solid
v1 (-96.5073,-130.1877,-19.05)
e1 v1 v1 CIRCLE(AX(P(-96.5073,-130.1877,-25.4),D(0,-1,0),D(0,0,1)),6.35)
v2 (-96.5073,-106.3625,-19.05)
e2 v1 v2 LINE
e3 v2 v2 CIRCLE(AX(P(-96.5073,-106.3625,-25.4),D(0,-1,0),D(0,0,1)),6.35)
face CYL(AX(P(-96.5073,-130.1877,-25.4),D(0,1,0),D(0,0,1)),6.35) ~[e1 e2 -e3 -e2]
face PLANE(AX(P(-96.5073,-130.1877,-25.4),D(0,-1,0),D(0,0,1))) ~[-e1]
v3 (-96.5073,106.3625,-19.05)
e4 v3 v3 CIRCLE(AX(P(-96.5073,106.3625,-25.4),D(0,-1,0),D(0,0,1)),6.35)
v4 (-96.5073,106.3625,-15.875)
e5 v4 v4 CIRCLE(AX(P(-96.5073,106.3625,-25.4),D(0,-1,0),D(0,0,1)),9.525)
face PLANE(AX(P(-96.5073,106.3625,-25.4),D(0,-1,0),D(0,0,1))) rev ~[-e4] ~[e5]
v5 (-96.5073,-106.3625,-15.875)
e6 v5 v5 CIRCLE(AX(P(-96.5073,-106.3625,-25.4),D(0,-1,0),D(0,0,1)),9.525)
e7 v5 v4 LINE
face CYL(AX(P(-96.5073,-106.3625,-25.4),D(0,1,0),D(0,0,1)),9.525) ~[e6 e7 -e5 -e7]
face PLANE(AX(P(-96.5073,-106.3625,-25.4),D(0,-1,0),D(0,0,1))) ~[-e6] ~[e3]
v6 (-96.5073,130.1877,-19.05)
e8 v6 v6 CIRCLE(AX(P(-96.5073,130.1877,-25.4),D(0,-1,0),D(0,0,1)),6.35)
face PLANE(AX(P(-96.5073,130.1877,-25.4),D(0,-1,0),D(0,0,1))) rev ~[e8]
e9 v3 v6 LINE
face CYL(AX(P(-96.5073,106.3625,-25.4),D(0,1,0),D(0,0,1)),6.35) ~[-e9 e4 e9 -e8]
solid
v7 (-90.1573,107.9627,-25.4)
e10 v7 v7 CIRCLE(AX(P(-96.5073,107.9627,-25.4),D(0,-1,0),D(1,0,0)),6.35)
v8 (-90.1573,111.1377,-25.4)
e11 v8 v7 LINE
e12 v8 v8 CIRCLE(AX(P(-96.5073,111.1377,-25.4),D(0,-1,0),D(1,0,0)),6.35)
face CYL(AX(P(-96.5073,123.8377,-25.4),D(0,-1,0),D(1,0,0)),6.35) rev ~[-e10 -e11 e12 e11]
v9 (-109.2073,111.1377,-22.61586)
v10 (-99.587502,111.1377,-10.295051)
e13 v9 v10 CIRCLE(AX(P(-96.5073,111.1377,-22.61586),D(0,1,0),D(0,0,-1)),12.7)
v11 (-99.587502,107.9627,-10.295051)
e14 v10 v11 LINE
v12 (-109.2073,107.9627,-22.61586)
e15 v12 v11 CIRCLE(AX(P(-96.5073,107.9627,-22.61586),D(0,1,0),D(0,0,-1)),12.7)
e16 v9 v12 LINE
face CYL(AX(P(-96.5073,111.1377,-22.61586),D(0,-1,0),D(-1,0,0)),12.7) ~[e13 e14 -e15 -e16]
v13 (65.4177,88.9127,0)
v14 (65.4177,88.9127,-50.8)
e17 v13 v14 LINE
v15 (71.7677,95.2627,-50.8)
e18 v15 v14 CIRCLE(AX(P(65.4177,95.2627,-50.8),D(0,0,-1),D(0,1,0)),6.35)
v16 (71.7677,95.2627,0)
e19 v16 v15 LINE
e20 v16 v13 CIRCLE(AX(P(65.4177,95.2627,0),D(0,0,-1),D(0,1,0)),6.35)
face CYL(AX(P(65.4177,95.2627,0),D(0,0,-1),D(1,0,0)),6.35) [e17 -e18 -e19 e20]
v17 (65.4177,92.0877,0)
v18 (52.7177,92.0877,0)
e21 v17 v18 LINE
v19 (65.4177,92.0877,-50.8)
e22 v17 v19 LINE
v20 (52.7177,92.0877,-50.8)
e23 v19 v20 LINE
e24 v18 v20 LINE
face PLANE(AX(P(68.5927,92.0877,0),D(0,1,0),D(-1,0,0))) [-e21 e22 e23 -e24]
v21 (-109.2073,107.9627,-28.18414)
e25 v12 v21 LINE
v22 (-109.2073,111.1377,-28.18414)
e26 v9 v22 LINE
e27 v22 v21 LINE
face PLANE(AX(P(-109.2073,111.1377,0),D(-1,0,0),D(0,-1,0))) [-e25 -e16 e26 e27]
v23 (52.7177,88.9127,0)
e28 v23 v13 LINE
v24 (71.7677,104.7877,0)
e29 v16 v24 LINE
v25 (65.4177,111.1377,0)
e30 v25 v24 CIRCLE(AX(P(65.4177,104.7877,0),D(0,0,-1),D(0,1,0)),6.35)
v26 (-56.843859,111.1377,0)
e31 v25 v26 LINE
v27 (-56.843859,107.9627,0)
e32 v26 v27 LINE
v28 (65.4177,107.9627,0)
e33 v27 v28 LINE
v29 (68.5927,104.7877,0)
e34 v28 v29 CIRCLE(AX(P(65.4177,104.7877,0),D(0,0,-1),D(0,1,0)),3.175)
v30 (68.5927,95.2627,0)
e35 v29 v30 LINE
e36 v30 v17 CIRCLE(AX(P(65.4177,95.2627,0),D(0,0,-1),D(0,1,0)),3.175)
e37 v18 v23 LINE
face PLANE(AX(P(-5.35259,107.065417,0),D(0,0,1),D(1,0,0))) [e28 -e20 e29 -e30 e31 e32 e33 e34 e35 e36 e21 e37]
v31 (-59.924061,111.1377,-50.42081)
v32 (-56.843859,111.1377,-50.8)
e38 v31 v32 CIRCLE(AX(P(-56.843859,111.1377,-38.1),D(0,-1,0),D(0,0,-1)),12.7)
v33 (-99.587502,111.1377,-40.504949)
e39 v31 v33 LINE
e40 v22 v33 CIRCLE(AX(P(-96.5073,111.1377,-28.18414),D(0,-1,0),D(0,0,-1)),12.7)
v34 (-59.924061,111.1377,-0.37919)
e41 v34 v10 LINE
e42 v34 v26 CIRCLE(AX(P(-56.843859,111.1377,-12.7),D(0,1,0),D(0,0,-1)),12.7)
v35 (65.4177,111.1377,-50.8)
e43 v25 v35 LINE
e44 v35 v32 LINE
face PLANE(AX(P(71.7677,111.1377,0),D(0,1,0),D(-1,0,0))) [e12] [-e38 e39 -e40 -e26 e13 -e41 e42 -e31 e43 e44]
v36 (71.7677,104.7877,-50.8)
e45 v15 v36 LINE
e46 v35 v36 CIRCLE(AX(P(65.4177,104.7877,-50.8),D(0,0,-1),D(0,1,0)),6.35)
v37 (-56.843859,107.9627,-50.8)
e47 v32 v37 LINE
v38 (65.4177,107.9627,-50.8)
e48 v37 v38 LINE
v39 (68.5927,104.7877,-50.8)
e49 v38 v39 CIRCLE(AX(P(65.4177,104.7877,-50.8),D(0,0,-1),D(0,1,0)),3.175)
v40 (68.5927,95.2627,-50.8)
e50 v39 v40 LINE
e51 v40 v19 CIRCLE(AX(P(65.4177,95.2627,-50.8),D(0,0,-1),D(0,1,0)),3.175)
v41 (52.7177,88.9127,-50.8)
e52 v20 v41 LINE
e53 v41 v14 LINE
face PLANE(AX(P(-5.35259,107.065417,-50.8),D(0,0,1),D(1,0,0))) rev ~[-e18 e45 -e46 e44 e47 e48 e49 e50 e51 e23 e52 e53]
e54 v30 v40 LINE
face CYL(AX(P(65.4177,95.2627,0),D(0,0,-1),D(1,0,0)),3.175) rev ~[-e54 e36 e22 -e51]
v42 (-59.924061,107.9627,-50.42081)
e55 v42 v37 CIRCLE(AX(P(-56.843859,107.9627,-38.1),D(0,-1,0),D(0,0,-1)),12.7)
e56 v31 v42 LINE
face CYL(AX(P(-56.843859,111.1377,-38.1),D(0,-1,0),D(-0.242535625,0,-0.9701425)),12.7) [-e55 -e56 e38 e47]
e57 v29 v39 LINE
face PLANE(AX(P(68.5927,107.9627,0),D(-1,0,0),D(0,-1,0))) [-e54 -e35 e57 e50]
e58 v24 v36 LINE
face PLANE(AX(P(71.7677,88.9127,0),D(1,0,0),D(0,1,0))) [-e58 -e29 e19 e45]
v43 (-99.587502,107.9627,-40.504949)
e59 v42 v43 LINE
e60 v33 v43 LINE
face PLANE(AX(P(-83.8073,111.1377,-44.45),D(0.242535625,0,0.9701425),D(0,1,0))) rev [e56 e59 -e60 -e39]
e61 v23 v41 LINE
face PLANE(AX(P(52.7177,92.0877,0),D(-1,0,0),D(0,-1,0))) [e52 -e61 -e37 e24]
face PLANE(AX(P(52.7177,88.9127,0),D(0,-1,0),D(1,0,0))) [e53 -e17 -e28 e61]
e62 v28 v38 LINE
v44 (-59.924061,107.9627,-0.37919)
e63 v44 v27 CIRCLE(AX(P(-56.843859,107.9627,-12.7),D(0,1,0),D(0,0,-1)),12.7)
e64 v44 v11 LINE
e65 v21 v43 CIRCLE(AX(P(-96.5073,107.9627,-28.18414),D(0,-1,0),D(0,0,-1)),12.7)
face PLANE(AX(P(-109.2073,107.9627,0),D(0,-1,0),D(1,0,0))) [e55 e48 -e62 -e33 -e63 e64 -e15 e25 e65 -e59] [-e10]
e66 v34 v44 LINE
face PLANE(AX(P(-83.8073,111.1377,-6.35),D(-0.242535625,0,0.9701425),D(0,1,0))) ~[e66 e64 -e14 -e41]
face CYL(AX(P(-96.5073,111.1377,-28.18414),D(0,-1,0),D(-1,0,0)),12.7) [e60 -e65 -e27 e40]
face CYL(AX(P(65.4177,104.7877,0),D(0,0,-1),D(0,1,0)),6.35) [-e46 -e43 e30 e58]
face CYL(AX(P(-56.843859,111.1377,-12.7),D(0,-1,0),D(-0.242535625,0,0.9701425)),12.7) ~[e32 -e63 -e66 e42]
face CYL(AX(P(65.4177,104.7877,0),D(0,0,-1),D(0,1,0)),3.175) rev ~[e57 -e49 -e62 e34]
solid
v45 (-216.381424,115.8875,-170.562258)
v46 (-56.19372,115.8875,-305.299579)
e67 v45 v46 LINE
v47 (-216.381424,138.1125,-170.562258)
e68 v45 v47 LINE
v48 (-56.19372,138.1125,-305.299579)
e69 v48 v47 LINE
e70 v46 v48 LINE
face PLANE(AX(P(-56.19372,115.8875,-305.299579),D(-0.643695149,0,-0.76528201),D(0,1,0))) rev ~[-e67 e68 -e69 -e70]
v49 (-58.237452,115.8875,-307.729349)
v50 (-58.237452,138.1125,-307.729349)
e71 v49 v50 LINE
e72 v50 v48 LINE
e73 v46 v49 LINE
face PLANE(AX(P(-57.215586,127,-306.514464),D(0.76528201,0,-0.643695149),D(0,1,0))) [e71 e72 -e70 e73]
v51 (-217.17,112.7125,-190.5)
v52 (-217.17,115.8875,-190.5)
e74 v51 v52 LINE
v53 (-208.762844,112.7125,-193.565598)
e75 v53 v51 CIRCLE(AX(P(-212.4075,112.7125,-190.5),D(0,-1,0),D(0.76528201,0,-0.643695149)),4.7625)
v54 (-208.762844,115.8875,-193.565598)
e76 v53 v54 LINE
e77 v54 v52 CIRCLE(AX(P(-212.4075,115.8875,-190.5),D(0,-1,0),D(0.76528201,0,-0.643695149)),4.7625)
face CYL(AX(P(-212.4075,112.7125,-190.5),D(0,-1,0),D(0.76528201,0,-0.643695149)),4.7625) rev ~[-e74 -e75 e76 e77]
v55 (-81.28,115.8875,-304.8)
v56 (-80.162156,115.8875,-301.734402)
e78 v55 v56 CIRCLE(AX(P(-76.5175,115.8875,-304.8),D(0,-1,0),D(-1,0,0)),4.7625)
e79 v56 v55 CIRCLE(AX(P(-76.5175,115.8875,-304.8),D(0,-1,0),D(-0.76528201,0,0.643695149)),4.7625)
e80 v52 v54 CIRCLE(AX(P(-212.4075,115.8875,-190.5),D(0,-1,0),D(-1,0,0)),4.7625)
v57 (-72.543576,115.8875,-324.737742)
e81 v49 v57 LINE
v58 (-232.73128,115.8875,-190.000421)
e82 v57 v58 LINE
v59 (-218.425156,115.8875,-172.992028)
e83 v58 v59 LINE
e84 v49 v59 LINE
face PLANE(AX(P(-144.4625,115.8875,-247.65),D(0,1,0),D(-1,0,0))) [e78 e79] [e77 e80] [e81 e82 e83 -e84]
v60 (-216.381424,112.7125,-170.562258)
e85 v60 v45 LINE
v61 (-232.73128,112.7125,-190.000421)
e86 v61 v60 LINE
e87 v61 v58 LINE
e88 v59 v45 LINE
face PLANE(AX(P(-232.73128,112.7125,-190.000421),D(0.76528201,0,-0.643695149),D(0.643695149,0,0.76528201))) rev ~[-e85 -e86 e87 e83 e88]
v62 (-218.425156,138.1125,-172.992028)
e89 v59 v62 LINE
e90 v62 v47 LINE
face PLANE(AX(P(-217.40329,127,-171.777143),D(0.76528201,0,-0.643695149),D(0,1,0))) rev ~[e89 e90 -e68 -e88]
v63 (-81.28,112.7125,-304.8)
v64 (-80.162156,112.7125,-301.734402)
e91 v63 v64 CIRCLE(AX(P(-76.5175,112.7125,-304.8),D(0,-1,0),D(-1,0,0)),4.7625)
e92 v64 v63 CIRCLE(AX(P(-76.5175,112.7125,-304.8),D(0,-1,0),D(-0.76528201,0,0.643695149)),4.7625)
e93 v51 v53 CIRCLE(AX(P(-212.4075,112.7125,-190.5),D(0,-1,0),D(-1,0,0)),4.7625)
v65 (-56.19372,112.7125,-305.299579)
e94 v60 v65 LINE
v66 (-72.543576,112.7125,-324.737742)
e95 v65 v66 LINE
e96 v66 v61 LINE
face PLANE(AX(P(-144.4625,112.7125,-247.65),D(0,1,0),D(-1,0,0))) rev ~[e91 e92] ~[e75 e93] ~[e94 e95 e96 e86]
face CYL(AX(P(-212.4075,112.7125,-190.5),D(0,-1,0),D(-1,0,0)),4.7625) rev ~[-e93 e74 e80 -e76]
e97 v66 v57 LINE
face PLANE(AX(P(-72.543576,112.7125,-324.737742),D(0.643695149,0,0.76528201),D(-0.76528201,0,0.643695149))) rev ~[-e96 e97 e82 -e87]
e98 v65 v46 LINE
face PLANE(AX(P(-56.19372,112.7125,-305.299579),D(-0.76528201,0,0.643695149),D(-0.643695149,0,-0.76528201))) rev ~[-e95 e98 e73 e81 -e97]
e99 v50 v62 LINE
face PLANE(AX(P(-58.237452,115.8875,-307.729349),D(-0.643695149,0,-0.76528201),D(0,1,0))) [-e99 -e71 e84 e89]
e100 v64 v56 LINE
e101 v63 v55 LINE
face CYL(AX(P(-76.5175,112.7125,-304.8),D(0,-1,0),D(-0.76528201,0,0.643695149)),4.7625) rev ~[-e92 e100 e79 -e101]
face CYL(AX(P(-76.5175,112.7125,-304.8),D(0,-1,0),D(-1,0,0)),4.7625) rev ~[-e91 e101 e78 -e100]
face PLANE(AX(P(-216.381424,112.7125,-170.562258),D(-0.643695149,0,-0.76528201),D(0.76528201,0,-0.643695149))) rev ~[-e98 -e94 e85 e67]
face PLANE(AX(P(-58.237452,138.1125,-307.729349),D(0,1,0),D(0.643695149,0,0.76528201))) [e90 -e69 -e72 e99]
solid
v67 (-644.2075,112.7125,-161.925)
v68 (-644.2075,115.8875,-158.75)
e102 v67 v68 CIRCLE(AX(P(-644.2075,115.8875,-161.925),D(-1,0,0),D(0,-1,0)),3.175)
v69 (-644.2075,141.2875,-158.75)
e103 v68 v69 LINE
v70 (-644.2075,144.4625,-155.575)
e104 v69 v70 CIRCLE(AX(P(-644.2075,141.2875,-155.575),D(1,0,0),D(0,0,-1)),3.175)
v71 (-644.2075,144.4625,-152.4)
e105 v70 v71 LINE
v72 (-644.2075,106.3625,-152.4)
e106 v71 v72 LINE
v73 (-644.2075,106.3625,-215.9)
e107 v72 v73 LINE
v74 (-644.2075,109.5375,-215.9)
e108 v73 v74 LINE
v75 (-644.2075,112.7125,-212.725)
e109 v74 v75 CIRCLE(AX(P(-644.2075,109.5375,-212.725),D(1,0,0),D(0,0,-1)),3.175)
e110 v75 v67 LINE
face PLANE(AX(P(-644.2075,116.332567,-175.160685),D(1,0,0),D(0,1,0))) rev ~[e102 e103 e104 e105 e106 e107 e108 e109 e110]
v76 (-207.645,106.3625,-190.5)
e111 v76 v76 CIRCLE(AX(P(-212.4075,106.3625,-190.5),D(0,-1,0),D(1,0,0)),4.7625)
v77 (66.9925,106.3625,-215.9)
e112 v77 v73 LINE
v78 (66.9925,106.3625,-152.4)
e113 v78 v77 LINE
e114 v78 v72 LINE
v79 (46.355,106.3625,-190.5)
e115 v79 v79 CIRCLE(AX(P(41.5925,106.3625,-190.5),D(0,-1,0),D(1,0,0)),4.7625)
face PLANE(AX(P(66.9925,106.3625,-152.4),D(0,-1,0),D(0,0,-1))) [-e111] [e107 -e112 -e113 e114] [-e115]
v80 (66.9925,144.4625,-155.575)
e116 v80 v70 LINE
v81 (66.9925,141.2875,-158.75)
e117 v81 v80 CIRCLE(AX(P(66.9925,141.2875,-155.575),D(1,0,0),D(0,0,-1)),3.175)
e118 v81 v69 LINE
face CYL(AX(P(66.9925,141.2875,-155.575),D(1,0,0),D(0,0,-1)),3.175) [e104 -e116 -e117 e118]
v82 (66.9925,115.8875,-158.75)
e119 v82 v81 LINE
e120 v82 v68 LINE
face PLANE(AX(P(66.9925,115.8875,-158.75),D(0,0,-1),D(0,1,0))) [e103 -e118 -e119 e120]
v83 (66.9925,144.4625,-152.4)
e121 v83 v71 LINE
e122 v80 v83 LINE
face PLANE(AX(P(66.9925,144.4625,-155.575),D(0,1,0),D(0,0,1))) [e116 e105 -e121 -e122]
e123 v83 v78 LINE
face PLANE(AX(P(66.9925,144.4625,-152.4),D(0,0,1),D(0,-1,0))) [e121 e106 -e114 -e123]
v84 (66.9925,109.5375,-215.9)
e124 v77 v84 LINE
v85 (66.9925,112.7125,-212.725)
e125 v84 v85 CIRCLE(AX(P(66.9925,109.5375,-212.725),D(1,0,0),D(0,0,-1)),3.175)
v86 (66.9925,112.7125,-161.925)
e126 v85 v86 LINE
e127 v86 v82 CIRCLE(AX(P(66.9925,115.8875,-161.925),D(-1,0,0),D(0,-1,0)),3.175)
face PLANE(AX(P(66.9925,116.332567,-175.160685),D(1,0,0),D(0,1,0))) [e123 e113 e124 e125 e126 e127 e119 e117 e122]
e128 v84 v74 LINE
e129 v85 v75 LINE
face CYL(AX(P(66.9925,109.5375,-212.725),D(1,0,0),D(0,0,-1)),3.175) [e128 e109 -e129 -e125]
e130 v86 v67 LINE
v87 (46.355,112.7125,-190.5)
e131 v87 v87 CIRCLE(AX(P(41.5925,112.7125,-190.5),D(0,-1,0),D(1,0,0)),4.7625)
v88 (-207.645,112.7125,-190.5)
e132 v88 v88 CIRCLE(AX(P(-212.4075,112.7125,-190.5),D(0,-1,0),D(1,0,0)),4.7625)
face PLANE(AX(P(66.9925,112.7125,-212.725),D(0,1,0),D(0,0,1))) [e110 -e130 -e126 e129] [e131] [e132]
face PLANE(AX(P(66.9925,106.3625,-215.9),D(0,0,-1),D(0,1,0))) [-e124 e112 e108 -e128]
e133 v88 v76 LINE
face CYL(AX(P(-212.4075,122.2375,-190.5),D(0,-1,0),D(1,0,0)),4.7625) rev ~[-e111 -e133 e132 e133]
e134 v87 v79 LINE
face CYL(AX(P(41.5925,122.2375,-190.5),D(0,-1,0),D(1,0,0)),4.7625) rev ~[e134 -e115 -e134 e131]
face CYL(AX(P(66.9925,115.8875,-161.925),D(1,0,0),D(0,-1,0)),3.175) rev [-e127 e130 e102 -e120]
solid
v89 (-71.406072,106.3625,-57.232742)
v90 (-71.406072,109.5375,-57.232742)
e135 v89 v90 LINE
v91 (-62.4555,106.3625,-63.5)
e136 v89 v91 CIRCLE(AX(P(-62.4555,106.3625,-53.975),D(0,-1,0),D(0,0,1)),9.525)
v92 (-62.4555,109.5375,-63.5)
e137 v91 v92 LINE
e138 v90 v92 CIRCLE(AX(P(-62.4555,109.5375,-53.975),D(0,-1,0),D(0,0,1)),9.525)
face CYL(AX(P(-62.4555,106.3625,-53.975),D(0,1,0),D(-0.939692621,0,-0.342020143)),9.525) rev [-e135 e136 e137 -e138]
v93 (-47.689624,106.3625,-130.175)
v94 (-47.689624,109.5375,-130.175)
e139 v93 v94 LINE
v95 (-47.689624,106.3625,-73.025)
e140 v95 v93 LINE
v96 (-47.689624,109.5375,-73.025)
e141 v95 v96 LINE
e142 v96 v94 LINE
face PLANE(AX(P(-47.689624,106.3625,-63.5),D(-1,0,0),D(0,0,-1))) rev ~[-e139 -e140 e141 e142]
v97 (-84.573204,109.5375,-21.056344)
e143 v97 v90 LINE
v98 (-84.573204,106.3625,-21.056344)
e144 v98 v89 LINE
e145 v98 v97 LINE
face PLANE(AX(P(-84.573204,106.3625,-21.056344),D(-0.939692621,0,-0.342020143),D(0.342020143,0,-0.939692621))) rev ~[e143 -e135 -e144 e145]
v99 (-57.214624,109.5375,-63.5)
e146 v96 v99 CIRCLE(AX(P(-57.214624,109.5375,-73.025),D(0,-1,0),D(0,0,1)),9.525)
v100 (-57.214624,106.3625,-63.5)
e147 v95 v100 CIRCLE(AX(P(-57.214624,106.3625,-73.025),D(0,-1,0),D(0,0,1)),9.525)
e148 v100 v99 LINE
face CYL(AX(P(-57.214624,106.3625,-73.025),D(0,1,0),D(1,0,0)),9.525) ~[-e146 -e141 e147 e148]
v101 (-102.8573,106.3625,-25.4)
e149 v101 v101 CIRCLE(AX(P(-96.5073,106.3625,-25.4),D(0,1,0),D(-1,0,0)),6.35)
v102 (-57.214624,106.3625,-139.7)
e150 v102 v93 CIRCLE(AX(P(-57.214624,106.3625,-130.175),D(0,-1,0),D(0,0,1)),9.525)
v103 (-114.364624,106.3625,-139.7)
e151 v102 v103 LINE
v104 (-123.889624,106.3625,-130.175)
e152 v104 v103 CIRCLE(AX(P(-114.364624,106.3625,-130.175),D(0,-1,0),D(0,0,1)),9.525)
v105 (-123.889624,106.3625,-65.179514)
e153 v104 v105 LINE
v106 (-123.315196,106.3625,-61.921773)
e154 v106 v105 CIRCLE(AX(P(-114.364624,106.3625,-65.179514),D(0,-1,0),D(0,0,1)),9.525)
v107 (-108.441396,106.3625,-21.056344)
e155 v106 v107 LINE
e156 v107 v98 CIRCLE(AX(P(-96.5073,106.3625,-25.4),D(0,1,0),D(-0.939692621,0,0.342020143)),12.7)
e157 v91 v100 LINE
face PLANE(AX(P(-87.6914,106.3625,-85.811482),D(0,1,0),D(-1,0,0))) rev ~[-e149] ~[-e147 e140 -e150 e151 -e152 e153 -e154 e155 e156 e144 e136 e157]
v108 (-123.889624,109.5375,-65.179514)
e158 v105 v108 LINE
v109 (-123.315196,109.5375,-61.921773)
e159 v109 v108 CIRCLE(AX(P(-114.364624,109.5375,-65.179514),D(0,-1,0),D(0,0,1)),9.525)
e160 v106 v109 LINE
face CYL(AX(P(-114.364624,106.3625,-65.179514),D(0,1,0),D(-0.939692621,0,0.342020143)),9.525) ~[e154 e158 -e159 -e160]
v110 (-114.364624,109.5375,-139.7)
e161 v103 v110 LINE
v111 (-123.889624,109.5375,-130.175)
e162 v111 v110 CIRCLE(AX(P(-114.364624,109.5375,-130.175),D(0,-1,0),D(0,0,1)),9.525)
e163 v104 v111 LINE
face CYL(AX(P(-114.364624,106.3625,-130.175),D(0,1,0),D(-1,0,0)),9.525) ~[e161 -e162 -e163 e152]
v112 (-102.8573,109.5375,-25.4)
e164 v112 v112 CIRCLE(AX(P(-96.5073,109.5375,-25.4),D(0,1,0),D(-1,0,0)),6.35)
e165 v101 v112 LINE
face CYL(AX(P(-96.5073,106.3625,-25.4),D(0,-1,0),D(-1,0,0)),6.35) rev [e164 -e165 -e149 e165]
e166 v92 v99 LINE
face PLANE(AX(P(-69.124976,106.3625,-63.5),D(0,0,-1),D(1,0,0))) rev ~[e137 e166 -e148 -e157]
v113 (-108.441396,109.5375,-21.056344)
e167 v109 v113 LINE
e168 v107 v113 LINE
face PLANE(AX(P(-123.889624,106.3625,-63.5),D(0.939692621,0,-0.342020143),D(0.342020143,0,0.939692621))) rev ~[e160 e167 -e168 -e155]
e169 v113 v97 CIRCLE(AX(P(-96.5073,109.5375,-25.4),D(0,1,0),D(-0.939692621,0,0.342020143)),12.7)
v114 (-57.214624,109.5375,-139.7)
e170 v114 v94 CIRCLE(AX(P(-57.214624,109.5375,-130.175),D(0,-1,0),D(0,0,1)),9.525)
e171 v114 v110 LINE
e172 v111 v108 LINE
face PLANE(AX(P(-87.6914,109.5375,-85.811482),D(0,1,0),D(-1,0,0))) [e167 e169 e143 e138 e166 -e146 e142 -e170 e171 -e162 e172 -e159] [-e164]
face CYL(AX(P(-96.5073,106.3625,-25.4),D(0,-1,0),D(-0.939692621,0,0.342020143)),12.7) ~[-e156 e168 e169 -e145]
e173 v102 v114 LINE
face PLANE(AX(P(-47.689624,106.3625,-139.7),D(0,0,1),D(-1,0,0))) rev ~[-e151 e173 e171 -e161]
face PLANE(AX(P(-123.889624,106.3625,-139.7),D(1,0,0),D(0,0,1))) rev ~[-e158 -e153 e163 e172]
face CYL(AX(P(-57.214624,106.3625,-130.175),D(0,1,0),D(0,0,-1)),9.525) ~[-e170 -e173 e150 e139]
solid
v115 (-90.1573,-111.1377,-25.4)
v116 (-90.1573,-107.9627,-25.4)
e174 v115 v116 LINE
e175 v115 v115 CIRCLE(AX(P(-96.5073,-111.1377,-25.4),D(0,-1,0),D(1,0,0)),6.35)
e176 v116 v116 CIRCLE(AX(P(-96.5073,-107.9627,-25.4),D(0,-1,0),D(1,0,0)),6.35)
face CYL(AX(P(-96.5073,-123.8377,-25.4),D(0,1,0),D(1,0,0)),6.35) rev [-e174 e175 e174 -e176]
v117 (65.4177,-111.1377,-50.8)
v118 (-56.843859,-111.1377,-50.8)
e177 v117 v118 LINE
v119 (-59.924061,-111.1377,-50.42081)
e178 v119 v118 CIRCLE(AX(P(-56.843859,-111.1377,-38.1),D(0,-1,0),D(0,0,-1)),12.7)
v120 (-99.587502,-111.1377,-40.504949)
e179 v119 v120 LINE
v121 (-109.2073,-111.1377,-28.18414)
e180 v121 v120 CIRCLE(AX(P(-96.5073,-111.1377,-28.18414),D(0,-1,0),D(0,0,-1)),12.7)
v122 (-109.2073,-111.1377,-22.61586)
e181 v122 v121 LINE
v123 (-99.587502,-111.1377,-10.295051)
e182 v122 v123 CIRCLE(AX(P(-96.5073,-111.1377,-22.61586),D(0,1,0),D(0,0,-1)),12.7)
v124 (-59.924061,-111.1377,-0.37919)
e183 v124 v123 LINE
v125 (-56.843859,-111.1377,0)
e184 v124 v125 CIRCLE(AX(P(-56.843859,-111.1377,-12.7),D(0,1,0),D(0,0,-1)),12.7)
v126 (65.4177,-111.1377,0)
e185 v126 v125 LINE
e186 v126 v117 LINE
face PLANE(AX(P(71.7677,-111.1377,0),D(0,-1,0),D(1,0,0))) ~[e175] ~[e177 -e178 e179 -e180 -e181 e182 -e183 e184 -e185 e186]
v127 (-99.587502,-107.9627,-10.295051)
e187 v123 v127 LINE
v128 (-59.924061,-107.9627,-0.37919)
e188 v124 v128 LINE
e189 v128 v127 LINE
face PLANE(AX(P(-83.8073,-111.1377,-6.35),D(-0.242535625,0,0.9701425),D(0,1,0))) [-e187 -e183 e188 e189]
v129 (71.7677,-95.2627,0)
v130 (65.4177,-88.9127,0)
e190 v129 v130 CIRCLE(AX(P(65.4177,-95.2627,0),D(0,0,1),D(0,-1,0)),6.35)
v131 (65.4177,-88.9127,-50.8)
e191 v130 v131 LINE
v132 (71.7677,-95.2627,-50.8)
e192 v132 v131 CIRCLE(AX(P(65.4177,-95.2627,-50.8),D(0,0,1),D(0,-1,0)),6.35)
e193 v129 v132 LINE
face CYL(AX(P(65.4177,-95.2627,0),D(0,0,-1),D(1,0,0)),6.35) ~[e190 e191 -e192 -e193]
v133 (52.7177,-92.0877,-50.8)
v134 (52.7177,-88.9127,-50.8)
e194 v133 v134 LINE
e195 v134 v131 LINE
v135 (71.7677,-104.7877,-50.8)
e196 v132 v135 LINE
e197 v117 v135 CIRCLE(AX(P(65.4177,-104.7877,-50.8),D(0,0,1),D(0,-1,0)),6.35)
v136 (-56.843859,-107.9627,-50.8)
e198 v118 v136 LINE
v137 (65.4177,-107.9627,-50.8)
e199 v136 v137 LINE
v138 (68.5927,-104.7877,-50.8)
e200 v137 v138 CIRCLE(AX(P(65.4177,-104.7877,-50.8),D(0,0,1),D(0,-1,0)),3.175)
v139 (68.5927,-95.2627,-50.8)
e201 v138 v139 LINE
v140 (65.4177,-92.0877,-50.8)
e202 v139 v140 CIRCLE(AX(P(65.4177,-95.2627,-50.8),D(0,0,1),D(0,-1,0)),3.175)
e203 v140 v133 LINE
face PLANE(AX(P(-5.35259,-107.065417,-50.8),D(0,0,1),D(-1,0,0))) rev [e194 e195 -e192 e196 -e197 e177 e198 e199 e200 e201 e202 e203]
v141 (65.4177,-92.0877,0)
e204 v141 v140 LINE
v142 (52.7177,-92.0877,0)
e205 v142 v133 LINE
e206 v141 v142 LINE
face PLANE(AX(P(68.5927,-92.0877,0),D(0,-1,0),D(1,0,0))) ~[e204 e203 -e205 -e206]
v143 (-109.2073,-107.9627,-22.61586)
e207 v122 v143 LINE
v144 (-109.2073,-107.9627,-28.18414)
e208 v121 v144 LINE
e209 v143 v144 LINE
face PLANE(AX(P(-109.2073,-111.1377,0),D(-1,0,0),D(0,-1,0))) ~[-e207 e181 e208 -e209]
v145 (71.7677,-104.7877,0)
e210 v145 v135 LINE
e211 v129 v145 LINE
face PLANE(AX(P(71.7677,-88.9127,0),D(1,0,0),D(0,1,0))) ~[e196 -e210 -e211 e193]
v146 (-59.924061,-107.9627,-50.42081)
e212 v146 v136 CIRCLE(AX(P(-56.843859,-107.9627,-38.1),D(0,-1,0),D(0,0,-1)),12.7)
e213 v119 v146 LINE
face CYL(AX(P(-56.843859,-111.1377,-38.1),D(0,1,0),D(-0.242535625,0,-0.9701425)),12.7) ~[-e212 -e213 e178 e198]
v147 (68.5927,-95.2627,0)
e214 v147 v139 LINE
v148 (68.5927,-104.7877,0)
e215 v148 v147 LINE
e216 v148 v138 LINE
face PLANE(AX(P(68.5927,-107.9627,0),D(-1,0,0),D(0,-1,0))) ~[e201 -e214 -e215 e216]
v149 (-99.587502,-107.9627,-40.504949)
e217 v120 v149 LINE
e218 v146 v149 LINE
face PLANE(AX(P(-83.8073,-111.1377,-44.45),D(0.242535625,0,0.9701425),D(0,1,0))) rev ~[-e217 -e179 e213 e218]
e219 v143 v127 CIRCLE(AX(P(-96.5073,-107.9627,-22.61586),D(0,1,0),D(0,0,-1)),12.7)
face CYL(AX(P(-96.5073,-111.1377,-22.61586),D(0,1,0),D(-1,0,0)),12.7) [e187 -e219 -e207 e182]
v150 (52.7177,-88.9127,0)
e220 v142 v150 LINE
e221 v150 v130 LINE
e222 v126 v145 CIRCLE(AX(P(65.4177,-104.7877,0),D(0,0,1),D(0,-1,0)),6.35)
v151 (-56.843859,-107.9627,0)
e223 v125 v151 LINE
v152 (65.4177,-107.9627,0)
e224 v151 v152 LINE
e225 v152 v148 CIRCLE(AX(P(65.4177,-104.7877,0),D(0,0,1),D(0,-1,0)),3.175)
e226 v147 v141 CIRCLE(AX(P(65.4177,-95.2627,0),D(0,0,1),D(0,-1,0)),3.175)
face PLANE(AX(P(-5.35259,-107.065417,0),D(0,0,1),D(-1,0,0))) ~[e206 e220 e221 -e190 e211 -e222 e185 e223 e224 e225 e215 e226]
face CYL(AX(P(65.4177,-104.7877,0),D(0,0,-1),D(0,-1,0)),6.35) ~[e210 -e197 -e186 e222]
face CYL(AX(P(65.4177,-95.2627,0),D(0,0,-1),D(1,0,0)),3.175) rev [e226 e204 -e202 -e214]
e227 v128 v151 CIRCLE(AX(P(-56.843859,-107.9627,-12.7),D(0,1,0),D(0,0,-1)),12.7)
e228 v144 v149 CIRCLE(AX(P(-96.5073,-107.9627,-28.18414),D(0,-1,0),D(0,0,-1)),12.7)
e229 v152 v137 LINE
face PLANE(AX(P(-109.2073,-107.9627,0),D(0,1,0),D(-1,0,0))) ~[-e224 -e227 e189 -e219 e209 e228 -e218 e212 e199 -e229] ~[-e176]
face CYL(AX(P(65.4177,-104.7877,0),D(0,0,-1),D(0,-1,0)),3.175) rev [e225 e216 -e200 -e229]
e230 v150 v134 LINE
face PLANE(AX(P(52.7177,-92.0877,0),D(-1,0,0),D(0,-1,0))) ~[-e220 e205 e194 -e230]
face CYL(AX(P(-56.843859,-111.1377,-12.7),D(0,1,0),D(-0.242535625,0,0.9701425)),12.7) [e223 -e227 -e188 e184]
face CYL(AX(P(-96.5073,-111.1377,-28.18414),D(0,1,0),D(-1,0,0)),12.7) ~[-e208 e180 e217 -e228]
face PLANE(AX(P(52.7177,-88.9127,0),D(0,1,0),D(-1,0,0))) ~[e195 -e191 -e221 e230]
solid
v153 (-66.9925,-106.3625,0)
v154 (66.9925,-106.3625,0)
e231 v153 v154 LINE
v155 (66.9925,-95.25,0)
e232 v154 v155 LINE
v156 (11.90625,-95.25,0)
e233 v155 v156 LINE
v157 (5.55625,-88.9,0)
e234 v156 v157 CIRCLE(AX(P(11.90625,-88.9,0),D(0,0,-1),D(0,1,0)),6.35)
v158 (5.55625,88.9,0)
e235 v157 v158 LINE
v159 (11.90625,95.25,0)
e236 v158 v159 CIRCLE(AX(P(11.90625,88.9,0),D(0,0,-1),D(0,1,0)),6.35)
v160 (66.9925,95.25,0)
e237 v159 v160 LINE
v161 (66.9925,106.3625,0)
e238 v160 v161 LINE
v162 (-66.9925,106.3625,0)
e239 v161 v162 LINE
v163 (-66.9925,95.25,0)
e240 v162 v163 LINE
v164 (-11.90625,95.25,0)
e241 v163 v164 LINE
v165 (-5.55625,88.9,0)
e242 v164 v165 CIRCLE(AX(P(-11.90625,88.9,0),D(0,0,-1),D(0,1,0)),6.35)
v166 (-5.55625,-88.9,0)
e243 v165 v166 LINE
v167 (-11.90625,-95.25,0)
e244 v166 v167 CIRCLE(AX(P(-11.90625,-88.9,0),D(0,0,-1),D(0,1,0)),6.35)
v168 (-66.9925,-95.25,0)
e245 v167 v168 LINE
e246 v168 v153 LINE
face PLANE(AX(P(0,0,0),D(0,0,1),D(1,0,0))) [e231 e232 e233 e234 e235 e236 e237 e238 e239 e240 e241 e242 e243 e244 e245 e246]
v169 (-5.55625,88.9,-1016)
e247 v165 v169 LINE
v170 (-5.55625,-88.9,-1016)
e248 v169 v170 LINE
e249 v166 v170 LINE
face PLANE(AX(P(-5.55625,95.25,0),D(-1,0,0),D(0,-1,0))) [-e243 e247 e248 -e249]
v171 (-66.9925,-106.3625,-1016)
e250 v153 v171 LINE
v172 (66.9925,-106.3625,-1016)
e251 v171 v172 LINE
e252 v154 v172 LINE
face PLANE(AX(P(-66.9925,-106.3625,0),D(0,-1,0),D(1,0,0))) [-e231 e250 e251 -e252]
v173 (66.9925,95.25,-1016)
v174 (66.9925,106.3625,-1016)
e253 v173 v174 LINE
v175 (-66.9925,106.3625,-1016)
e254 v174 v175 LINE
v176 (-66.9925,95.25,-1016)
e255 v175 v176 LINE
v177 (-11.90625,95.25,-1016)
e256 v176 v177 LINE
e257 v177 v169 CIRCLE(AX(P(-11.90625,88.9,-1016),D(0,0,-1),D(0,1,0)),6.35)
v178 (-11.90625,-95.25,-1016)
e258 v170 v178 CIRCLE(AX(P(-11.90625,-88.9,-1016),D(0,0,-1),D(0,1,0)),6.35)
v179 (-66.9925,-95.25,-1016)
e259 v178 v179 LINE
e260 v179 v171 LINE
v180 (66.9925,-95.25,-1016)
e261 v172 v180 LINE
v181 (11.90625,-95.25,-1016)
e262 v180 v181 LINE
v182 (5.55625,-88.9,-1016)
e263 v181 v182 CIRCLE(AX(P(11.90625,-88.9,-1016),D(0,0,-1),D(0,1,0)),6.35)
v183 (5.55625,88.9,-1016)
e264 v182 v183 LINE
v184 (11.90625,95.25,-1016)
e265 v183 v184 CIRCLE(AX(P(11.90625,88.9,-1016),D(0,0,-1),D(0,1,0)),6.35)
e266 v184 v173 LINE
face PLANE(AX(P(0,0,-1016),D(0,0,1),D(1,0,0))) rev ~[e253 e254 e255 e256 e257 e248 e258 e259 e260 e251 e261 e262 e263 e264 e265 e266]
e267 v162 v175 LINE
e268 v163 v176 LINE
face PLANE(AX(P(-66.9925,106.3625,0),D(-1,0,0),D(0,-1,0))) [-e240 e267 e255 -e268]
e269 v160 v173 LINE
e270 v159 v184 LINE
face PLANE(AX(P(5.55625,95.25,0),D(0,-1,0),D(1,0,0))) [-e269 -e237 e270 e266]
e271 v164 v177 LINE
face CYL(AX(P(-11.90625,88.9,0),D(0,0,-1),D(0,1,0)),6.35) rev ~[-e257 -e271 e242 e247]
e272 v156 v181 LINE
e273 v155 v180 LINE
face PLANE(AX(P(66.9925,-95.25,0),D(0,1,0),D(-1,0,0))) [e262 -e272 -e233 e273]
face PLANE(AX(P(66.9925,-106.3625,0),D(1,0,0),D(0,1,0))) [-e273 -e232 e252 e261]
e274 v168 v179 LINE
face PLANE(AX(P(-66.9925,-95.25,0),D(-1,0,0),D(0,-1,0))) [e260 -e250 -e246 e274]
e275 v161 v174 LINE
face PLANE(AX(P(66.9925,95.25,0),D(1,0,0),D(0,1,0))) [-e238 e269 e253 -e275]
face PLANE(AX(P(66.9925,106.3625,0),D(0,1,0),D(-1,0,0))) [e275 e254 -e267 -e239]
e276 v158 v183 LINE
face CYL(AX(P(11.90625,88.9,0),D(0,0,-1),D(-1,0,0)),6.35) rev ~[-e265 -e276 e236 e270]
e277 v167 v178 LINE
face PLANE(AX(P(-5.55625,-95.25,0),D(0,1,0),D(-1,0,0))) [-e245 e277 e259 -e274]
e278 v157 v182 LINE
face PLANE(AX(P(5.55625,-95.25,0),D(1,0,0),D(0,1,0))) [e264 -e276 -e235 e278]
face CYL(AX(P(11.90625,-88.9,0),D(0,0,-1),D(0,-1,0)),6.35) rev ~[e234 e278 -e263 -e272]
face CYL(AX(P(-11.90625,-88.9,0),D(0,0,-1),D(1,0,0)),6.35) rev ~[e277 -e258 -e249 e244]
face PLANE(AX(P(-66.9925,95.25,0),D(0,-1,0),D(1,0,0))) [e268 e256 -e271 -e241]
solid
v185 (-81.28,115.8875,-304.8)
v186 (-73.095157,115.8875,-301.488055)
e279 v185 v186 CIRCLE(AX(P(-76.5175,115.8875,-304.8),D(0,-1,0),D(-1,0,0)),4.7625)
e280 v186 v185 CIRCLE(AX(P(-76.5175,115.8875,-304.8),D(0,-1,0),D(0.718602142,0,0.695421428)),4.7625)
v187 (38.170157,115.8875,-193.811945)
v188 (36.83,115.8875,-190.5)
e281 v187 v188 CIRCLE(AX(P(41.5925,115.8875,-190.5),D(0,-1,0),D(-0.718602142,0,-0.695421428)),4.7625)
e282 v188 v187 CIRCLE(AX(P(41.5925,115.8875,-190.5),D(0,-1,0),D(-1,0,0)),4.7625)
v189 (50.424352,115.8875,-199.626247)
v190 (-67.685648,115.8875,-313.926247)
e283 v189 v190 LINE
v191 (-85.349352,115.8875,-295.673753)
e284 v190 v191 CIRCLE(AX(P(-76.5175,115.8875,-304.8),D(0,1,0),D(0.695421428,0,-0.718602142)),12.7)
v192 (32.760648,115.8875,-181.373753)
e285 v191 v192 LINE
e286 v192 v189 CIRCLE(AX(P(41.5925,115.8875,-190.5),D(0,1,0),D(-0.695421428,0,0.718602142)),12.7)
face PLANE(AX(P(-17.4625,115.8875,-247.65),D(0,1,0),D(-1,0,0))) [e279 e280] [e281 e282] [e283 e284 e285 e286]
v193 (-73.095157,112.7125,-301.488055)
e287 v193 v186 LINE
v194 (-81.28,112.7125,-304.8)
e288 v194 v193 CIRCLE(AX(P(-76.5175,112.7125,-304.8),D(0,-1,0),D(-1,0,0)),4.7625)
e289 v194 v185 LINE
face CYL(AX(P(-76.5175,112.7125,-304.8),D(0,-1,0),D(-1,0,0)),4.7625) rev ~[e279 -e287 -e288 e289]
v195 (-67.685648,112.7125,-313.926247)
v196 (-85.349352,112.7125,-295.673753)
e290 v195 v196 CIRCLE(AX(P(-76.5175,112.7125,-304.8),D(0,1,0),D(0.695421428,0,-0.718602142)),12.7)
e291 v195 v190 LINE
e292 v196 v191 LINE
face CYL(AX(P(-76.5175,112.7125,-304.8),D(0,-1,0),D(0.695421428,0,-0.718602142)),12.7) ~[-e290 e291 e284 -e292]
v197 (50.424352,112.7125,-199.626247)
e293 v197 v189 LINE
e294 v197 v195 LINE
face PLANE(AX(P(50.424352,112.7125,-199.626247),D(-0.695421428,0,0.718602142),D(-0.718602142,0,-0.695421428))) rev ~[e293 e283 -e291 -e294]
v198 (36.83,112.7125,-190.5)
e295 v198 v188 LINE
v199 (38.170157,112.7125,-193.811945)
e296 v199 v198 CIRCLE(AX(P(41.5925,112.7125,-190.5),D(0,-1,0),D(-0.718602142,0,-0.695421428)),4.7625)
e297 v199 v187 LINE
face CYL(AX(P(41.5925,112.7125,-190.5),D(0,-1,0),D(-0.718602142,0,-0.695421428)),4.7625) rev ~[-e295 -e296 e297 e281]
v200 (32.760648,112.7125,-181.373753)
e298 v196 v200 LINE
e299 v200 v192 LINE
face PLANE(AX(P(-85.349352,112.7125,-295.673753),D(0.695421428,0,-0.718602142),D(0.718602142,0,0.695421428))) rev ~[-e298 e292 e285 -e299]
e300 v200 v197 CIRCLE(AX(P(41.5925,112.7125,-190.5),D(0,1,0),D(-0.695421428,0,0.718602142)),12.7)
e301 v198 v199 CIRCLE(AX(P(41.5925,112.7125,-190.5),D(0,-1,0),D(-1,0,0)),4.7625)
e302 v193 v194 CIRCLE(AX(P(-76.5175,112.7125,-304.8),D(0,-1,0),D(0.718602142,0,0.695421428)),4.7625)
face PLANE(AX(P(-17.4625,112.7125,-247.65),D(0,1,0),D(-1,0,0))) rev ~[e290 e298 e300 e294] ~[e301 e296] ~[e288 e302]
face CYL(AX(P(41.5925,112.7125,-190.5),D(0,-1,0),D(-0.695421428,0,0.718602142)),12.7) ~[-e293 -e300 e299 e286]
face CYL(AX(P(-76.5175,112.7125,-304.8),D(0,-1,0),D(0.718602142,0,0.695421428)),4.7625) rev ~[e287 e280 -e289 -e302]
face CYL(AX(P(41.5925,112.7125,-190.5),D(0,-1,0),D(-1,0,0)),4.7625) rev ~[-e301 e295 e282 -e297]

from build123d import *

# Parameters (mm, degrees)
F1_DEPTH   = 1016
F2_R       = 6.35
F4_DEPTH   = 50.8
F5_R       = 3.175
F6_R       = 6.35
F7_SIZE2   = 12.7
F7_SIZE    = 50.8
F7_2_SIZE2 = 12.7
F7_2_SIZE  = 50.8
F8_R       = 12.7
F10_D      = 12.7
F10_DEPTH  = 12.7
F10_TIP    = 3.8154649308
F12_R      = 6.35
F13_DEPTH  = 28.575
F20_R      = 6.35
F21_DEPTH  = 3.175
F22_R      = 9.525
F24_DEPTH  = 711.2
F27_D      = 9.525
F27_DEPTH  = 9.525
F27_TIP    = 2.8615986981
F29_DEPTH  = 3.175
F31_DEPTH  = 3.175
F32_W      = 22.225
F32_H      = 3.175
F33_DEPTH  = 209.3185278984


with BuildPart() as f1:
    # F0 (on Top) → F1 (new body)
    with BuildSketch(Plane.XY):
        Polygon((-66.9925, -95.25), (-66.9925, -106.3625), (66.9925, -106.3625), (66.9925, -95.25), (5.55625, -95.25), (5.55625, 95.25), (66.9925, 95.25), (66.9925, 106.3625), (-66.9925, 106.3625), (-66.9925, 95.25), (-5.55625, 95.25), (-5.55625, -95.25), align=None)
    extrude(amount=-F1_DEPTH)

    # F2
    f2_edges = [f1.edges().sort_by_distance(p)[0] for p in [
        (5.55625, 95.25, -508),
        (-5.55625, 95.25, -508),
        (-5.55625, -95.25, -508),
        (5.55625, -95.25, -508),
    ]]
    fillet(f2_edges, radius=F2_R)


with BuildPart() as f4:
    # F3 (on face) → F4 (new body)
    with BuildSketch(Plane.XY):
        Polygon((-109.2073, 107.9627), (68.5927, 107.9627), (68.5927, 92.0877), (52.7177, 92.0877), (52.7177, 88.9127), (71.7677, 88.9127), (71.7677, 111.1377), (-109.2073, 111.1377), align=None)
    extrude(amount=-F4_DEPTH)

    # F5
    f5_edges = [f4.edges().sort_by_distance(p)[0] for p in [
        (68.5927, 107.9627, -25.4),
        (68.5927, 92.0877, -25.4),
    ]]
    fillet(f5_edges, radius=F5_R)

    # F6
    f6_edges = [f4.edges().sort_by_distance(p)[0] for p in [
        (71.7677, 111.1377, -25.4),
        (71.7677, 88.9127, -25.4),
    ]]
    fillet(f6_edges, radius=F6_R)

    # F7
    f7_edges = [f4.edges().sort_by_distance(p)[0] for p in [
        (-109.2073, 109.5502, 0),
    ]]
    f7_side = f4.faces().sort_by_distance((-21.8948, 109.314354, 0))[0]
    chamfer(f7_edges, length=F7_SIZE, length2=F7_SIZE2, reference=f7_side)

    # F7#2
    f7_2_edges = [f4.edges().sort_by_distance(p)[0] for p in [
        (-109.2073, 109.5502, -50.8),
    ]]
    f7_2_side = f4.faces().sort_by_distance((-21.8948, 109.314354, -50.8))[0]
    chamfer(f7_2_edges, length=F7_2_SIZE, length2=F7_2_SIZE2, reference=f7_2_side)

    # F8
    f8_edges = [f4.edges().sort_by_distance(p)[0] for p in [
        (-58.4073, 109.5502, 0),
        (-109.2073, 109.5502, -12.7),
        (-109.2073, 109.5502, -38.1),
        (-58.4073, 109.5502, -50.8),
    ]]
    fillet(f8_edges, radius=F8_R)

    # F10
    with Locations(Plane(origin=(0, 111.1377, 0), x_dir=(-1, 0, 0), z_dir=(0, 1, 0))):
        with Locations((96.5073, -25.4)):
            Hole(F10_D / 2, depth=F10_DEPTH)
            with Locations((0, 0, -(F10_DEPTH + F10_TIP / 2))):  # 118° drill point
                Cone(0, F10_D / 2, F10_TIP, mode=Mode.SUBTRACT)


with BuildPart() as f13:
    # F12 (on offset) → F13 (new body)
    with BuildSketch(Plane(origin=(0, 130.1877, 0), x_dir=(-1, 0, 0), z_dir=(0, 1, 0))):
        with Locations((96.5073, -25.4)):
            Circle(F12_R)
    extrude(amount=-F13_DEPTH)


with BuildPart() as f14_1:
    # F14: instance of F4
    add(f4.part.mirror(Plane.XZ))


with BuildPart() as f19:
    # F18 (on plane+point) → F19 (revolve)
    with BuildSketch(Plane(origin=(-96.5073, 0, 0), x_dir=(0, -1, 0), z_dir=(-1, 0, 0))):
        Polygon((-130.1877, -19.05), (-130.1877, -25.4), (130.1877, -25.4), (130.1877, -19.05), (106.3625, -19.05), (106.3625, -15.875), (-106.3625, -15.875), (-106.3625, -19.05), align=None)
    revolve(axis=Axis((-96.5073, 0, -25.4), (0, -1, 0)))


with BuildPart() as f21:
    # F20 (on face) → F21 (new body)
    with BuildSketch(Plane(origin=(0, 106.3625, 0), x_dir=(-1, 0, 0), z_dir=(0, 1, 0))):
        with BuildLine():
            Line((123.889623636, -63.5), (108.441396284, -21.0563441798))
            ThreePointArc((108.441396284, -21.0563441798), (96.5073, -12.7), (84.573203716, -21.0563441798))
            Line((84.573203716, -21.0563441798), (69.124976364, -63.5))
            Line((69.124976364, -63.5), (47.689623636, -63.5))
            Line((47.689623636, -63.5), (47.689623636, -139.7))
            Line((47.689623636, -139.7), (123.889623636, -139.7))
            Line((123.889623636, -139.7), (123.889623636, -63.5))
        make_face()
        with Locations((96.5073, -25.4)):
            Circle(F20_R, mode=Mode.SUBTRACT)
    extrude(amount=F21_DEPTH)

    # F22
    f22_edges = [f21.edges().sort_by_distance(p)[0] for p in [
        (-69.124976, 107.95, -63.5),
        (-47.689624, 107.95, -63.5),
        (-47.689624, 107.95, -139.7),
        (-123.889624, 107.95, -139.7),
        (-123.889624, 107.95, -63.5),
    ]]
    fillet(f22_edges, radius=F22_R)


with BuildPart() as f24:
    # F23 (on face) → F24 (new body)
    with BuildSketch(Plane.YZ.offset(66.9925)):
        with BuildLine():
            Line((106.3625, -152.4), (106.3625, -215.9))
            Line((106.3625, -215.9), (109.5375, -215.9))
            ThreePointArc((109.5375, -215.9), (111.7825640303, -214.9700640303), (112.7125, -212.725))
            Line((112.7125, -212.725), (112.7125, -161.925))
            ThreePointArc((112.7125, -161.925), (113.6424359697, -159.6799359697), (115.8875, -158.75))
            Line((115.8875, -158.75), (141.2875, -158.75))
            ThreePointArc((141.2875, -158.75), (143.5325640303, -157.8200640303), (144.4625, -155.575))
            Line((144.4625, -155.575), (144.4625, -152.4))
            Line((144.4625, -152.4), (106.3625, -152.4))
        make_face()
    extrude(amount=-F24_DEPTH)

    # F27
    with Locations(Plane(origin=(0, 112.7125, 0), x_dir=(-1, 0, 0), z_dir=(0, 1, 0))):
        with Locations((-41.5925, -190.5), (212.4075, -190.5)):
            Hole(F27_D / 2, depth=F27_DEPTH)
            with Locations((0, 0, -(F27_DEPTH + F27_TIP / 2))):  # 118° drill point
                Cone(0, F27_D / 2, F27_TIP, mode=Mode.SUBTRACT)


with BuildPart() as f29:
    # F28 (on face) → F29 (new body)
    with BuildSketch(Plane(origin=(0, 112.7125, 0), x_dir=(-1, 0, 0), z_dir=(0, 1, 0))):
        with BuildLine():
            ThreePointArc((-32.7606478705, -181.3737527996), (-50.7187472004, -181.6681478705), (-50.4243521295, -199.6262472004))
            Line((-50.4243521295, -199.6262472004), (67.6856478705, -313.9262472004))
            ThreePointArc((67.6856478705, -313.9262472004), (85.6437472004, -313.6318521295), (85.3493521295, -295.6737527996))
            Line((85.3493521295, -295.6737527996), (-32.7606478705, -181.3737527996))
        make_face()
        with BuildLine():
            ThreePointArc((81.28, -304.8), (74.7310931118, -309.2147657559), (73.0951572998, -301.4880554515))
            ThreePointArc((73.0951572998, -301.4880554515), (78.3039068882, -300.3852342441), (81.28, -304.8))
        make_face(mode=Mode.SUBTRACT)
        with BuildLine():
            ThreePointArc((-36.83, -190.5), (-37.1777342441, -192.2864068882), (-38.1701572998, -193.8119445485))
            ThreePointArc((-38.1701572998, -193.8119445485), (-46.0072657559, -188.7135931118), (-36.83, -190.5))
        make_face(mode=Mode.SUBTRACT)
    extrude(amount=F29_DEPTH)


with BuildPart() as f31:
    # F30 (on face) → F31 (new body)
    with BuildSketch(Plane(origin=(0, 112.7125, 0), x_dir=(-1, 0, 0), z_dir=(0, 1, 0))):
        Polygon((72.5435764768, -324.7377420194), (232.7312803045, -190.0004210428), (216.3814235232, -170.5622579806), (56.1937196955, -305.2995789572), align=None)
        with BuildLine():
            ThreePointArc((81.28, -304.8), (72.0431800281, -306.4315229202), (80.1621555742, -301.7344018535))
            ThreePointArc((80.1621555742, -301.7344018535), (80.9918199719, -303.1684770798), (81.28, -304.8))
        make_face(mode=Mode.SUBTRACT)
        with BuildLine():
            ThreePointArc((217.17, -190.5), (214.0390229202, -194.9743199719), (208.7628444258, -193.5655981465))
            ThreePointArc((208.7628444258, -193.5655981465), (210.7759770798, -186.0256800281), (217.17, -190.5))
        make_face(mode=Mode.SUBTRACT)
    extrude(amount=F31_DEPTH)

    # F32 (on face) → F33 (join, through all)
    with BuildSketch(Plane(origin=(117.4828916346, 0, -98.817385487), x_dir=(0, 1, 0), z_dir=(0.7652820103, 0, -0.6436951489))):
        with Locations((127, -271.3994002997)):
            Rectangle(F32_W, F32_H)
    extrude(amount=-F33_DEPTH)


solid = Compound([f1.part, f4.part, f14_1.part, f19.part, f21.part, f24.part, f29.part, f31.part])
